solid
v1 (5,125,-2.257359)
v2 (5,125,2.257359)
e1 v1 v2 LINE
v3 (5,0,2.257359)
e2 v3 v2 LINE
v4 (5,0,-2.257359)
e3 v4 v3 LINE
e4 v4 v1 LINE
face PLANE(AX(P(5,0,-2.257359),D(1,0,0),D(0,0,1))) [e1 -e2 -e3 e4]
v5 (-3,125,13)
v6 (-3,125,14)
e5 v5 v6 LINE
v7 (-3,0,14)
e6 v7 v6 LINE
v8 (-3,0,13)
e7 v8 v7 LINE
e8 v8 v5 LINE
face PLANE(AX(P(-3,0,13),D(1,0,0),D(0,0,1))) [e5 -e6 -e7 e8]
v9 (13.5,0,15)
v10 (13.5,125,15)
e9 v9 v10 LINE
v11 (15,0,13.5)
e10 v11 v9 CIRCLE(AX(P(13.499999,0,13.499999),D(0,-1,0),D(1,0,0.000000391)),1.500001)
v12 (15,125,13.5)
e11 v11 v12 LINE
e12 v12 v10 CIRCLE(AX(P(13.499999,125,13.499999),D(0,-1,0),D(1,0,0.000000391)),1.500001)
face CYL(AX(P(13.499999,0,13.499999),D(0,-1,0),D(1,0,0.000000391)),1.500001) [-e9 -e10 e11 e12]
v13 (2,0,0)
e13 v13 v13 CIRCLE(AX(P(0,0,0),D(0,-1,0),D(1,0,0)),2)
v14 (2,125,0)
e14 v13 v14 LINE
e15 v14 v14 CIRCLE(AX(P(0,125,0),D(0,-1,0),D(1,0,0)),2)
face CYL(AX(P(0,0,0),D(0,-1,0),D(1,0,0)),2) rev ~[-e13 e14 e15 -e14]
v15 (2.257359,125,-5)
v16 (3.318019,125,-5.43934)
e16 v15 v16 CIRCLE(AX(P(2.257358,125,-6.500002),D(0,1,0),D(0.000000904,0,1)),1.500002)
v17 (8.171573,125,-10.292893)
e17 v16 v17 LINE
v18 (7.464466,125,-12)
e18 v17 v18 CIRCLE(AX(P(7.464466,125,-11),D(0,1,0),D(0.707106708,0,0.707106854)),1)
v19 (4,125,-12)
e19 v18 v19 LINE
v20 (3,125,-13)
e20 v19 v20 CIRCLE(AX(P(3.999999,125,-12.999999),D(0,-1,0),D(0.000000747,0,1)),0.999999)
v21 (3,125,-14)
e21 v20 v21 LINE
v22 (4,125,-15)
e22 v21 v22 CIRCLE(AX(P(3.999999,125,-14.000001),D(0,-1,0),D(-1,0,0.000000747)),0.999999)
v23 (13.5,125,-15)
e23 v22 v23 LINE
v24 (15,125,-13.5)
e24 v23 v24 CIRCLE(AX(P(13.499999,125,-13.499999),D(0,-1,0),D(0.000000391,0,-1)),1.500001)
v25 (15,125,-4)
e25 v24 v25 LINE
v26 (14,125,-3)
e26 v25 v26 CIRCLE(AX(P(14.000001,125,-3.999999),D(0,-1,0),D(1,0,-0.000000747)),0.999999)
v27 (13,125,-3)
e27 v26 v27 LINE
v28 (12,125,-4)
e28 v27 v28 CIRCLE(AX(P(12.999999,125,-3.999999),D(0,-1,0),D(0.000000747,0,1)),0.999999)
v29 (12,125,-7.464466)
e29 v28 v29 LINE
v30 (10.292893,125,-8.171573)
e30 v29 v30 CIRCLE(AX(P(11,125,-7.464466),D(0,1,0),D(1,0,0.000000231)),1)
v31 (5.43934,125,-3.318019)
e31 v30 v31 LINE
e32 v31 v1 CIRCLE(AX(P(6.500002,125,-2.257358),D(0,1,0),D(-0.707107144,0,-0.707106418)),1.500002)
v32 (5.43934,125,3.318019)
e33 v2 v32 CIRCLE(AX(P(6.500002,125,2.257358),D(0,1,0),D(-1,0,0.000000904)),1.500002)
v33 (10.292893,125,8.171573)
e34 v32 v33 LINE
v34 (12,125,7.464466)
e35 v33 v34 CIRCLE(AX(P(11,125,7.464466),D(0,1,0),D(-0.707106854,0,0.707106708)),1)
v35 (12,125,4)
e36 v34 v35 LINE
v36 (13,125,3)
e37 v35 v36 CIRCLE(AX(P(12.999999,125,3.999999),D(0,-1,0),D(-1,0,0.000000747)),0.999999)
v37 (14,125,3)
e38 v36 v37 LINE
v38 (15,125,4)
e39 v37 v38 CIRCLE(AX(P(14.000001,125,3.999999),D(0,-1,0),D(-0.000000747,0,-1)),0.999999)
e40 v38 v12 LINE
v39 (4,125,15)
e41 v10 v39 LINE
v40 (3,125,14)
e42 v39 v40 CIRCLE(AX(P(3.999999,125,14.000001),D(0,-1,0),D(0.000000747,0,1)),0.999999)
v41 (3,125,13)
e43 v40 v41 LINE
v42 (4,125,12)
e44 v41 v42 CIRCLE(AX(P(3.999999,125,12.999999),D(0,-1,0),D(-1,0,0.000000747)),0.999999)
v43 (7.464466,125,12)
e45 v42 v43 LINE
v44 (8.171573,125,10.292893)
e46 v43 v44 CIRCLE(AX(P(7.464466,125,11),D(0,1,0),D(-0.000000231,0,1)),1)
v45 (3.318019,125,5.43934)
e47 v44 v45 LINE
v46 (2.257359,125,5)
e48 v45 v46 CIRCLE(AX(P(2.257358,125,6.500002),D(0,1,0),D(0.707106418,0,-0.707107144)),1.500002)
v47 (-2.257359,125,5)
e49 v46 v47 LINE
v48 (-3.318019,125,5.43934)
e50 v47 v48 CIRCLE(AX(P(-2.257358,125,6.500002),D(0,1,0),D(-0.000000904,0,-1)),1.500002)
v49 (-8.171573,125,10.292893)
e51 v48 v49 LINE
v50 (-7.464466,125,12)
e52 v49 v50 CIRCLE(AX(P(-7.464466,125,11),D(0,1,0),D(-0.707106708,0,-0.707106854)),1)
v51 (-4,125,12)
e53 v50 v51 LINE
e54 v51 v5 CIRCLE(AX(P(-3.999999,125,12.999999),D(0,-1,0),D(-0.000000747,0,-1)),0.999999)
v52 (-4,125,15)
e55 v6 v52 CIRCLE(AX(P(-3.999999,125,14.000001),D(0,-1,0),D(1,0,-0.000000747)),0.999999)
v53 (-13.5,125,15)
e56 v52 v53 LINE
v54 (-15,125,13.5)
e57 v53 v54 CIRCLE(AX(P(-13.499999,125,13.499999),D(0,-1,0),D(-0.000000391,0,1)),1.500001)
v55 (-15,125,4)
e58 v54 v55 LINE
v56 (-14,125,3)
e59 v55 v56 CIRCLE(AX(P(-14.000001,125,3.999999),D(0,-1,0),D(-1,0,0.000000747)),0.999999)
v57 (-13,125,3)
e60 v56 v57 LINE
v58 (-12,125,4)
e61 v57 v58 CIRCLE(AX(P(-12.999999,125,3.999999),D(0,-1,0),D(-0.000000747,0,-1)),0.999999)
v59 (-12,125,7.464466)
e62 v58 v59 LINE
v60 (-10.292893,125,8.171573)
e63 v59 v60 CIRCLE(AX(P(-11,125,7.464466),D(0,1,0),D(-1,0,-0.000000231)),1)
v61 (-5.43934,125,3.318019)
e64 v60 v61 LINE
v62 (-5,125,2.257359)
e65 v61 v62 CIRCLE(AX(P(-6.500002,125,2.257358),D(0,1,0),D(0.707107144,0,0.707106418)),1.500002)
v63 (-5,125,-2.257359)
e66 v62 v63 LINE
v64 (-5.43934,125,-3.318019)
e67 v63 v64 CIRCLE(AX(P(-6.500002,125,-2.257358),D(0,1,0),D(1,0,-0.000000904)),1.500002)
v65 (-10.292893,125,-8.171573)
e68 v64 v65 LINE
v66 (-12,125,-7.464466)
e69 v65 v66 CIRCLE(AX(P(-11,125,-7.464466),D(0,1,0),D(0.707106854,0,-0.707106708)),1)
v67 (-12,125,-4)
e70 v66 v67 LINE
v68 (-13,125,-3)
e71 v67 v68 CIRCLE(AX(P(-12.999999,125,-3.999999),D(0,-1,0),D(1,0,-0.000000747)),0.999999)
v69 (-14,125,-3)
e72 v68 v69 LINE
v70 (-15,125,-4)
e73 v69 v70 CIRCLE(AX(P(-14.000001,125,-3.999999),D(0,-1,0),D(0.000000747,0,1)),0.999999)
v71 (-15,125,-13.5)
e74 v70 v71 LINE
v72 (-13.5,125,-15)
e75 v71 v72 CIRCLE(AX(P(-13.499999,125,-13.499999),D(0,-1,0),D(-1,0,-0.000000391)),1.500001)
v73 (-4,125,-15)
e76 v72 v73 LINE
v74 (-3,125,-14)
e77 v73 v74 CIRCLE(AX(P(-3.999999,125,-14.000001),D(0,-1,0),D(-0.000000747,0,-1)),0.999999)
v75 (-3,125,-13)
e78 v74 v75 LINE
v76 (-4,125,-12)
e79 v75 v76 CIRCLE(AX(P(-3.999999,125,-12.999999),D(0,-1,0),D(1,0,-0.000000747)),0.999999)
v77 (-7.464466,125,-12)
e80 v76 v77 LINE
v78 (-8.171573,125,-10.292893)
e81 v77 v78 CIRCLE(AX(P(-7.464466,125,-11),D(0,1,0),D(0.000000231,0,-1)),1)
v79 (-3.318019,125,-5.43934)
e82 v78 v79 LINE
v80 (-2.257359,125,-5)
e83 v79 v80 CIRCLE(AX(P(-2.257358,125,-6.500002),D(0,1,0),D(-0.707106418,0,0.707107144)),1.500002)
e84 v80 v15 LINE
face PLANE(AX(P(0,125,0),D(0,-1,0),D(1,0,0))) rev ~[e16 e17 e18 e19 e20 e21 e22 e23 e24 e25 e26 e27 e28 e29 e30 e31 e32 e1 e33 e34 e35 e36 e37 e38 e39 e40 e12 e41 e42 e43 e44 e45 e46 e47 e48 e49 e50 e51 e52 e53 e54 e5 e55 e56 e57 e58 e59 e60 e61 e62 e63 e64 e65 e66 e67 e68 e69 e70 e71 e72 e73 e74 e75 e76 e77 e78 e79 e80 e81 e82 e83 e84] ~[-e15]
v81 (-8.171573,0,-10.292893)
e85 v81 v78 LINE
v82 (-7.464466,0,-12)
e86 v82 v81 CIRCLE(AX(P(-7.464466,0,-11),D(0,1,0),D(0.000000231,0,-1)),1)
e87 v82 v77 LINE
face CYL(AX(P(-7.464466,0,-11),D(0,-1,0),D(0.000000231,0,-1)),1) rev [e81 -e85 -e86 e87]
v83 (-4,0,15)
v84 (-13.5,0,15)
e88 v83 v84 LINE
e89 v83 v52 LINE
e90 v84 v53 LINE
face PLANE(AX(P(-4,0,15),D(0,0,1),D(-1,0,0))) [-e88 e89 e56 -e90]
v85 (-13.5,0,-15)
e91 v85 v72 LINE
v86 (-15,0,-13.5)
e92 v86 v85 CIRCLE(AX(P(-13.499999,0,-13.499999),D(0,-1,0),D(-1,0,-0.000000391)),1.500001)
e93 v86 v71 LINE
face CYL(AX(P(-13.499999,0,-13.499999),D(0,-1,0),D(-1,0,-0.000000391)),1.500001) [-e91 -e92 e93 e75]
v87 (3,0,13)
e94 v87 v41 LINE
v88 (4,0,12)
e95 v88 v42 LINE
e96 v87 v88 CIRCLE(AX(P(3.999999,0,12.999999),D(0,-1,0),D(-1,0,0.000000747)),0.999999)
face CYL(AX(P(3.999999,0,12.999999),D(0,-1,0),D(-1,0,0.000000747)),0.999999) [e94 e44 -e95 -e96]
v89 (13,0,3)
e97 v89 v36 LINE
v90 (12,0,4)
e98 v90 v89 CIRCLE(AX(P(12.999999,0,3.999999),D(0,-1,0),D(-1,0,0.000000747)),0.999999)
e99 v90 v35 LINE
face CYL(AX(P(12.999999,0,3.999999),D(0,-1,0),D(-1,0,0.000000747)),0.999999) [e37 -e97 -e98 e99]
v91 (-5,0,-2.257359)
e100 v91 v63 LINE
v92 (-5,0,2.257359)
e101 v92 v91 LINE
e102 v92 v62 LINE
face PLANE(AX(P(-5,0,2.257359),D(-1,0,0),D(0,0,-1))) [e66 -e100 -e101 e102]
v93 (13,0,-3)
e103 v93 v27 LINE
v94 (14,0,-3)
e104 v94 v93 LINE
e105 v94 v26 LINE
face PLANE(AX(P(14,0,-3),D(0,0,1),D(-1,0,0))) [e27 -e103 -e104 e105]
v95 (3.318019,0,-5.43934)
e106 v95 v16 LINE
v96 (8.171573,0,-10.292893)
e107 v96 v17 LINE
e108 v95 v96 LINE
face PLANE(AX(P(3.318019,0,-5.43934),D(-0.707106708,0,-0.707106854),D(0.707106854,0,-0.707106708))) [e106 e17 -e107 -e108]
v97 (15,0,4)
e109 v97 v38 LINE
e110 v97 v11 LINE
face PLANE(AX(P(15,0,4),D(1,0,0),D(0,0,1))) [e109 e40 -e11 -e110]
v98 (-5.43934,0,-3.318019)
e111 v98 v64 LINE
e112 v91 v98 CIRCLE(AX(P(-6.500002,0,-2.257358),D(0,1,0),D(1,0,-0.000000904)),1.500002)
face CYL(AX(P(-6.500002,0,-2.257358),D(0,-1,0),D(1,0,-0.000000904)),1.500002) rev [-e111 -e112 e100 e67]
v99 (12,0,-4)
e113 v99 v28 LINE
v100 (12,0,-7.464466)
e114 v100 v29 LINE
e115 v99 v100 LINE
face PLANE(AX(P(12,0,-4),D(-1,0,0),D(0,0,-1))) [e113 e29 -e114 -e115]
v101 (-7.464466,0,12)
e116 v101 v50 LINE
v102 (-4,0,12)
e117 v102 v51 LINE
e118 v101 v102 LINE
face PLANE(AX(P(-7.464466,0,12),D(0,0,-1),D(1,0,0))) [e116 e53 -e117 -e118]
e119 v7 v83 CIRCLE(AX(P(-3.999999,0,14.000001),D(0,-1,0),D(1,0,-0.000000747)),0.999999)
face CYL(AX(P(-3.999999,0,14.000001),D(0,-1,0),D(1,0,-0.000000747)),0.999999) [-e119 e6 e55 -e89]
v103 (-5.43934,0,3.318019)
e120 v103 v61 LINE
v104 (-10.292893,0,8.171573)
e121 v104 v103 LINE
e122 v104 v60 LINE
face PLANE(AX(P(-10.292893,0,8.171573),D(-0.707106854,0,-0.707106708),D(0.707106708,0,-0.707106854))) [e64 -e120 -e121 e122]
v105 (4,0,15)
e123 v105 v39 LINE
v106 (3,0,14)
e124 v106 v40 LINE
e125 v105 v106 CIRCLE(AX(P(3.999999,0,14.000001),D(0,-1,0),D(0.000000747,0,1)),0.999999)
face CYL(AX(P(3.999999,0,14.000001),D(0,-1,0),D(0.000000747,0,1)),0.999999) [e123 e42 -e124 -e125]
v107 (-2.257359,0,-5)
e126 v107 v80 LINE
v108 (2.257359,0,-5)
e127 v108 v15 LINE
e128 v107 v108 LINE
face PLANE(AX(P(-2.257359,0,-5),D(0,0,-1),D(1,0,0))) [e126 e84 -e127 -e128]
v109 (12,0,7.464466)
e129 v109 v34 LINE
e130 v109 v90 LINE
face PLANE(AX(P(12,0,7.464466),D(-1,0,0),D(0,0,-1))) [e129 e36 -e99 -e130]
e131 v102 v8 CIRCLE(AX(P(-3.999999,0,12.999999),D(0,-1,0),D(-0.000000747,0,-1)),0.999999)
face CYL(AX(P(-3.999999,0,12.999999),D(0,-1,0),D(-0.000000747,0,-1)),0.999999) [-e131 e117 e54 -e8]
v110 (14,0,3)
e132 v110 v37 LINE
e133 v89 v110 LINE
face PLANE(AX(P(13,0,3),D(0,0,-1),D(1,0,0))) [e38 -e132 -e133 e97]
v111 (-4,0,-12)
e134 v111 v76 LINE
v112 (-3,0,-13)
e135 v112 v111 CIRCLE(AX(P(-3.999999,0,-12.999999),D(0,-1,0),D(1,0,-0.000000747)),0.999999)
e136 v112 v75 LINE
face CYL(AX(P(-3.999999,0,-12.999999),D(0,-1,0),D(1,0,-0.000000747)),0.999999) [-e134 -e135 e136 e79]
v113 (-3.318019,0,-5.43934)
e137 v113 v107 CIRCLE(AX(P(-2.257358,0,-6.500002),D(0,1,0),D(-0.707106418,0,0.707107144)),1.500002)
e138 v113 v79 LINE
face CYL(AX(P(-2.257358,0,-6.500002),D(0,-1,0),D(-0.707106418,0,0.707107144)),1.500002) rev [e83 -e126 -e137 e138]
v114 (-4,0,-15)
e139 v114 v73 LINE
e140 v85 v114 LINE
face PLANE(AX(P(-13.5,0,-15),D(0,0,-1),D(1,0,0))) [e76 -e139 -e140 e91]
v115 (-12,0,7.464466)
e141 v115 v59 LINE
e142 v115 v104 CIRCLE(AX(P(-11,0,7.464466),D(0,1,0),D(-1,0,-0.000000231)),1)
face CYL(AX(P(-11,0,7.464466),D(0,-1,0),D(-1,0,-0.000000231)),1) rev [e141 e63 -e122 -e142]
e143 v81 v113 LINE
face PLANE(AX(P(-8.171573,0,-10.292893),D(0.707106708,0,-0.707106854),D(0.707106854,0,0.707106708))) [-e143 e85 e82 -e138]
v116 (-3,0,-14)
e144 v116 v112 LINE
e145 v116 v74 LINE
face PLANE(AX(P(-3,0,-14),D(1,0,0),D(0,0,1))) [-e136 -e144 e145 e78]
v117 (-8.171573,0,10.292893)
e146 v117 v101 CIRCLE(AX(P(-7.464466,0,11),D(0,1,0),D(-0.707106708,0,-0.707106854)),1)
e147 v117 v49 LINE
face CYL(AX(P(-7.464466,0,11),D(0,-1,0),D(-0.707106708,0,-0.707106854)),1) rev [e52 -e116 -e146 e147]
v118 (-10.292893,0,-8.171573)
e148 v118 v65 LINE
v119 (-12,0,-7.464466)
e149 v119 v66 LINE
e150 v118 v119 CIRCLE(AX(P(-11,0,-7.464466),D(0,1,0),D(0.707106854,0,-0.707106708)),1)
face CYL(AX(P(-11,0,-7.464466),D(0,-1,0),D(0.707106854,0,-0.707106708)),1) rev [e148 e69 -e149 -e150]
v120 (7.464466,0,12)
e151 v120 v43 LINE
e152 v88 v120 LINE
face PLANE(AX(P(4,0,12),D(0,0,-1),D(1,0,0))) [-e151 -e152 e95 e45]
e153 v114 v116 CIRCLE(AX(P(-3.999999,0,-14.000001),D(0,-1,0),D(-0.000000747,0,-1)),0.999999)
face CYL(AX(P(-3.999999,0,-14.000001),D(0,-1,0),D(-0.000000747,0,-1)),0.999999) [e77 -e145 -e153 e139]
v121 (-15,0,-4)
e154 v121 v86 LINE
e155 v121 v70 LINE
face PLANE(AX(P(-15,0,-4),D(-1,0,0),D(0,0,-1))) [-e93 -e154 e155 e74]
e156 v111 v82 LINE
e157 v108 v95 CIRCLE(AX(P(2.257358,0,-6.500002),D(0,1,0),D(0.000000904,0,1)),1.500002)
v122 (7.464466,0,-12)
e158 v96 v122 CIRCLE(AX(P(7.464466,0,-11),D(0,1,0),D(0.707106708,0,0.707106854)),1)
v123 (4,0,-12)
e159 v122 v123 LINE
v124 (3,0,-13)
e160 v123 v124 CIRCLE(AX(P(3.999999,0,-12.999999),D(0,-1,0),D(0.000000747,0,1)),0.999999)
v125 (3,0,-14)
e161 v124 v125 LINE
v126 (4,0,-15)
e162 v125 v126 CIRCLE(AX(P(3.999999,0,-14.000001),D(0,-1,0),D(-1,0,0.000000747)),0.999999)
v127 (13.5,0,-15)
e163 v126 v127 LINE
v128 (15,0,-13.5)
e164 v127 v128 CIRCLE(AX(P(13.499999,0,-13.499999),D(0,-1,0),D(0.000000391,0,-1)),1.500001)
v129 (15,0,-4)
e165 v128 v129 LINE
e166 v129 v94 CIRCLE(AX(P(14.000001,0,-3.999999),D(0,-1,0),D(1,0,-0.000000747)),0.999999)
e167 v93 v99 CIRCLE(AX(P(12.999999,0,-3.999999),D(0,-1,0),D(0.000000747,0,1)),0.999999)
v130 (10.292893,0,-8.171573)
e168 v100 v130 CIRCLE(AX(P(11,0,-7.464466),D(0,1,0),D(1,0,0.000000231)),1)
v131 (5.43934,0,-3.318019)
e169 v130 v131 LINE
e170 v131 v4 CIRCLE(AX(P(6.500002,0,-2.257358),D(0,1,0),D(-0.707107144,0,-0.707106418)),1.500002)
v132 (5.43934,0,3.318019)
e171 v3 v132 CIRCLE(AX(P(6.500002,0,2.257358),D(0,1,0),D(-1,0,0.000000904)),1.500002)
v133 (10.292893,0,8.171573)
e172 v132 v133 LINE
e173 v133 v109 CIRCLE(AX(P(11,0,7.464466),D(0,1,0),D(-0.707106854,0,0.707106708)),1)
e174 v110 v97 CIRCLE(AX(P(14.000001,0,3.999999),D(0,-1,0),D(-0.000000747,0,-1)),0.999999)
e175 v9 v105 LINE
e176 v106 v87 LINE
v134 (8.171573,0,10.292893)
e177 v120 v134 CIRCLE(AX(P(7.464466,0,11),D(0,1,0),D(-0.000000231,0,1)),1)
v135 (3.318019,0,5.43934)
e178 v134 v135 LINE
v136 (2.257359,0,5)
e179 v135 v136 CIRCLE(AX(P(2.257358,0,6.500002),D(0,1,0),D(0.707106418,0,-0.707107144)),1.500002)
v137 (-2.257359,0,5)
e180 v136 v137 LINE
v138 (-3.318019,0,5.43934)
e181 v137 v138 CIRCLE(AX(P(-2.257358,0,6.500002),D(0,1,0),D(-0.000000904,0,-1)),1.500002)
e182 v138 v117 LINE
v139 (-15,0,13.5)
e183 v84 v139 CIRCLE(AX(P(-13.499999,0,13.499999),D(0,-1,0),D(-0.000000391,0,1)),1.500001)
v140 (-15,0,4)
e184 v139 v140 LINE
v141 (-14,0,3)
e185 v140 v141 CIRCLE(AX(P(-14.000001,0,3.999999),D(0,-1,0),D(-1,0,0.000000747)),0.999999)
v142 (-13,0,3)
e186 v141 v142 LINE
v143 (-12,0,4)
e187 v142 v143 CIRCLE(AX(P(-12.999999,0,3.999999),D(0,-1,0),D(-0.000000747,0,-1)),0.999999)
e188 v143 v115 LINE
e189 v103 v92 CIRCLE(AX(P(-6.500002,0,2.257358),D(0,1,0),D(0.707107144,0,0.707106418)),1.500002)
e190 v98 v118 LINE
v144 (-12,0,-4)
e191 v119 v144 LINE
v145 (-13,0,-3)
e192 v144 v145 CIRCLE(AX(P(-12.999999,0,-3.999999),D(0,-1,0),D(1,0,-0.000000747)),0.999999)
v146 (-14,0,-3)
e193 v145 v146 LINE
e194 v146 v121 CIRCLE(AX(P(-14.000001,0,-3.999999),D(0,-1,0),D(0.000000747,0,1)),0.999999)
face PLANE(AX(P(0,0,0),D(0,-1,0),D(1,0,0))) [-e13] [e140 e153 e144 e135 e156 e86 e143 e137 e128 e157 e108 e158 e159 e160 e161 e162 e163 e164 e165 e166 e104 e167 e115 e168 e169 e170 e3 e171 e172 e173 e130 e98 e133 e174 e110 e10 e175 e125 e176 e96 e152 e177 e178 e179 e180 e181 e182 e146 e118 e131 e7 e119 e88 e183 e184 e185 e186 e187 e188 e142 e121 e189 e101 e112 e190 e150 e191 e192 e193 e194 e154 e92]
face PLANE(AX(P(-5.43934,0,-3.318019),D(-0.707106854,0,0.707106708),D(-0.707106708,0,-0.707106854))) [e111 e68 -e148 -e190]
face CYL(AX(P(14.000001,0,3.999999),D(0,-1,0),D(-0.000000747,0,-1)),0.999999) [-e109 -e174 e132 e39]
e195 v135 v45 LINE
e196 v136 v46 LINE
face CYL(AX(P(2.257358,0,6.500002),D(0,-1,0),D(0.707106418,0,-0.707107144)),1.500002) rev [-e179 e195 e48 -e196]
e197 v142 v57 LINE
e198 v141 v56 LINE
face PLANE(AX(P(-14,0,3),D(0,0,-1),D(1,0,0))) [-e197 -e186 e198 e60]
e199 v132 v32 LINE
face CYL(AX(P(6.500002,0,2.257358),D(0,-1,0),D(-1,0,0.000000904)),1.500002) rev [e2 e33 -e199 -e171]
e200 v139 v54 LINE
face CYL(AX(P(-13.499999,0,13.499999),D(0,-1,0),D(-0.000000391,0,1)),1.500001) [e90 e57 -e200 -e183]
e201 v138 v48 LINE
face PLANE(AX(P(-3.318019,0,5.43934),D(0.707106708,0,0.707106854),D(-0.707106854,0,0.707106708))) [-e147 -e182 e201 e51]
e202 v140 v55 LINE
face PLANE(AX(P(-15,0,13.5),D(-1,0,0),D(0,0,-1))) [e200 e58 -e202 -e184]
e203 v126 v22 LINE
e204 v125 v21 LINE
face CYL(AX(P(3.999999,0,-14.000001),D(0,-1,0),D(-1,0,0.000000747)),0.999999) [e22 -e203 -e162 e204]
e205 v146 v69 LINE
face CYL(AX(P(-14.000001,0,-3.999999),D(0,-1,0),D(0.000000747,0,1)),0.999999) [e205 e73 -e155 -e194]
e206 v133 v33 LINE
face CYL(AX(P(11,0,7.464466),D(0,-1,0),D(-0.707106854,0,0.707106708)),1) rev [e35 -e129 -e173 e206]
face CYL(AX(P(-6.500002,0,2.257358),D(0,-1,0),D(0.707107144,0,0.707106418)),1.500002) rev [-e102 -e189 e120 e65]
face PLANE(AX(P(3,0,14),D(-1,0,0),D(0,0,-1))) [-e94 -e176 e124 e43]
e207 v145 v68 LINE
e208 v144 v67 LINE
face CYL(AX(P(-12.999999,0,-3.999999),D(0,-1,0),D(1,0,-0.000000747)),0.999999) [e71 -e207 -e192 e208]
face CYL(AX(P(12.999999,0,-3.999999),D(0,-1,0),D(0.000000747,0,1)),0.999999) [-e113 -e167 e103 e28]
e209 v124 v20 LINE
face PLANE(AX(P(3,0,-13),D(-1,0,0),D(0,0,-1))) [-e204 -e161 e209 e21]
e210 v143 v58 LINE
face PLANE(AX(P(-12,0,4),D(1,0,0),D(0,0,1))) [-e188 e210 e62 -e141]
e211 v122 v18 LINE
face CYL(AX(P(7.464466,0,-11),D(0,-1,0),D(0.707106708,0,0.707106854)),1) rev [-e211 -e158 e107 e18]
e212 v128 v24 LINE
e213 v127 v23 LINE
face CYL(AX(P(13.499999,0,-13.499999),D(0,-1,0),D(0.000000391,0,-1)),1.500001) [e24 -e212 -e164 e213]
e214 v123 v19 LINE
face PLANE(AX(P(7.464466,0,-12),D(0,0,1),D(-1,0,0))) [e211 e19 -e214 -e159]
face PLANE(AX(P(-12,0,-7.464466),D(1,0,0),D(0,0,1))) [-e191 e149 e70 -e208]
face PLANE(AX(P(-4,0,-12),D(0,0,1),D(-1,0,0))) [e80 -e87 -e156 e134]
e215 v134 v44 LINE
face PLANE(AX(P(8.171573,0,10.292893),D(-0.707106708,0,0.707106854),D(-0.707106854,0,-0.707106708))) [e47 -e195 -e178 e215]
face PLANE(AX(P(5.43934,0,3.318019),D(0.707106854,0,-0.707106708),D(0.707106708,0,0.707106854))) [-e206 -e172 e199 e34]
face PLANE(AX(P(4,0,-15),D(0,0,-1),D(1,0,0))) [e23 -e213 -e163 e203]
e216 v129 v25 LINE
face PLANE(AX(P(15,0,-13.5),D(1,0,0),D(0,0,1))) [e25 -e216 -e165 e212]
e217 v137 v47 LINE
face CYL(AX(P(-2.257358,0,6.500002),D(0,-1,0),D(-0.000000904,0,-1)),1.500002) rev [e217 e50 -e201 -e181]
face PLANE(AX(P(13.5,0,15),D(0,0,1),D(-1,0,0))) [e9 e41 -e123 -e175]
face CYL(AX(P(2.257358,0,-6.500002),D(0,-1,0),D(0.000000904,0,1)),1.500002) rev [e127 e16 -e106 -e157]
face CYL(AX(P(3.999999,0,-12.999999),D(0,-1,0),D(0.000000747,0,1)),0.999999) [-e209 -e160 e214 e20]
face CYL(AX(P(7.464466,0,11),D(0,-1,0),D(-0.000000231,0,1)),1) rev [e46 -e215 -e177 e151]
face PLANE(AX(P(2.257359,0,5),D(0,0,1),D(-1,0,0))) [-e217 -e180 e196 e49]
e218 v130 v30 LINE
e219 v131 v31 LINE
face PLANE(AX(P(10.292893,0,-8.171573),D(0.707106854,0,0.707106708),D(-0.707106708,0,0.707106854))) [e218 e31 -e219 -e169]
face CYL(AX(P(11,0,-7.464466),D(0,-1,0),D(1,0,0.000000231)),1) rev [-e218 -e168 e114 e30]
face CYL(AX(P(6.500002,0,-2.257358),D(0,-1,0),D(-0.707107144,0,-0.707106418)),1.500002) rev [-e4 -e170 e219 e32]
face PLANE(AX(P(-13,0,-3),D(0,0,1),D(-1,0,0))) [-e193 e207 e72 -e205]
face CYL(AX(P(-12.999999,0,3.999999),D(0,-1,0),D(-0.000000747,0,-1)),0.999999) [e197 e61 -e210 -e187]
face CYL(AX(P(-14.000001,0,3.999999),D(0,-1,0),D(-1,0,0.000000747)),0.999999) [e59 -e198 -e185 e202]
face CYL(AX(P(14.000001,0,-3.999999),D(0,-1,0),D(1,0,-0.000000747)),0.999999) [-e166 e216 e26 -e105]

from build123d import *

# Parameters (mm, degrees)
F0_R     = 2
F1_DEPTH = 125


with BuildPart() as f1:
    # F0 (on Front) → F1 (new body)
    with BuildSketch(Plane.XZ):
        with BuildLine():
            ThreePointArc((15, 13.5), (14.56066, 14.56066), (13.5, 15))
            Line((13.5, 15), (4, 15))
            ThreePointArc((4, 15), (3.292893, 14.707107), (3, 14))
            Line((3, 14), (3, 13))
            ThreePointArc((3, 13), (3.292893, 12.292893), (4, 12))
            Line((4, 12), (7.464466, 12))
            ThreePointArc((7.464466, 12), (8.388346, 11.382683), (8.171573, 10.292893))
            Line((8.171573, 10.292893), (3.318019, 5.43934))
            ThreePointArc((3.318019, 5.43934), (2.831384, 5.114181), (2.257359, 5))
            Line((2.257359, 5), (-2.257359, 5))
            ThreePointArc((-2.257359, 5), (-2.831384, 5.114181), (-3.318019, 5.43934))
            Line((-3.318019, 5.43934), (-8.171573, 10.292893))
            ThreePointArc((-8.171573, 10.292893), (-8.388346, 11.382683), (-7.464466, 12))
            Line((-7.464466, 12), (-4, 12))
            ThreePointArc((-4, 12), (-3.292893, 12.292893), (-3, 13))
            Line((-3, 13), (-3, 14))
            ThreePointArc((-3, 14), (-3.292893, 14.707107), (-4, 15))
            Line((-4, 15), (-13.5, 15))
            ThreePointArc((-13.5, 15), (-14.56066, 14.56066), (-15, 13.5))
            Line((-15, 13.5), (-15, 4))
            ThreePointArc((-15, 4), (-14.707107, 3.292893), (-14, 3))
            Line((-14, 3), (-13, 3))
            ThreePointArc((-13, 3), (-12.292893, 3.292893), (-12, 4))
            Line((-12, 4), (-12, 7.464466))
            ThreePointArc((-12, 7.464466), (-11.382683, 8.388346), (-10.292893, 8.171573))
            Line((-10.292893, 8.171573), (-5.43934, 3.318019))
            ThreePointArc((-5.43934, 3.318019), (-5.114181, 2.831384), (-5, 2.257359))
            Line((-5, 2.257359), (-5, -2.257359))
            ThreePointArc((-5, -2.257359), (-5.114181, -2.831384), (-5.43934, -3.318019))
            Line((-5.43934, -3.318019), (-10.292893, -8.171573))
            ThreePointArc((-10.292893, -8.171573), (-11.382683, -8.388346), (-12, -7.464466))
            Line((-12, -7.464466), (-12, -4))
            ThreePointArc((-12, -4), (-12.292893, -3.292893), (-13, -3))
            Line((-13, -3), (-14, -3))
            ThreePointArc((-14, -3), (-14.707107, -3.292893), (-15, -4))
            Line((-15, -4), (-15, -13.5))
            ThreePointArc((-15, -13.5), (-14.56066, -14.56066), (-13.5, -15))
            Line((-13.5, -15), (-4, -15))
            ThreePointArc((-4, -15), (-3.292893, -14.707107), (-3, -14))
            Line((-3, -14), (-3, -13))
            ThreePointArc((-3, -13), (-3.292893, -12.292893), (-4, -12))
            Line((-4, -12), (-7.464466, -12))
            ThreePointArc((-7.464466, -12), (-8.388346, -11.382683), (-8.171573, -10.292893))
            Line((-8.171573, -10.292893), (-3.318019, -5.43934))
            ThreePointArc((-3.318019, -5.43934), (-2.831384, -5.114181), (-2.257359, -5))
            Line((-2.257359, -5), (2.257359, -5))
            ThreePointArc((2.257359, -5), (2.831384, -5.114181), (3.318019, -5.43934))
            Line((3.318019, -5.43934), (8.171573, -10.292893))
            ThreePointArc((8.171573, -10.292893), (8.388346, -11.382683), (7.464466, -12))
            Line((7.464466, -12), (4, -12))
            ThreePointArc((4, -12), (3.292893, -12.292893), (3, -13))
            Line((3, -13), (3, -14))
            ThreePointArc((3, -14), (3.292893, -14.707107), (4, -15))
            Line((4, -15), (13.5, -15))
            ThreePointArc((13.5, -15), (14.56066, -14.56066), (15, -13.5))
            Line((15, -13.5), (15, -4))
            ThreePointArc((15, -4), (14.707107, -3.292893), (14, -3))
            Line((14, -3), (13, -3))
            ThreePointArc((13, -3), (12.292893, -3.292893), (12, -4))
            Line((12, -4), (12, -7.464466))
            ThreePointArc((12, -7.464466), (11.382683, -8.388346), (10.292893, -8.171573))
            Line((10.292893, -8.171573), (5.43934, -3.318019))
            ThreePointArc((5.43934, -3.318019), (5.114181, -2.831384), (5, -2.257359))
            Line((5, -2.257359), (5, 2.257359))
            ThreePointArc((5, 2.257359), (5.114181, 2.831384), (5.43934, 3.318019))
            Line((5.43934, 3.318019), (10.292893, 8.171573))
            ThreePointArc((10.292893, 8.171573), (11.382683, 8.388346), (12, 7.464466))
            Line((12, 7.464466), (12, 4))
            ThreePointArc((12, 4), (12.292893, 3.292893), (13, 3))
            Line((13, 3), (14, 3))
            ThreePointArc((14, 3), (14.707107, 3.292893), (15, 4))
            Line((15, 4), (15, 13.5))
        make_face()
        Circle(F0_R, mode=Mode.SUBTRACT)
    extrude(amount=-F1_DEPTH)


solid = f1.part
